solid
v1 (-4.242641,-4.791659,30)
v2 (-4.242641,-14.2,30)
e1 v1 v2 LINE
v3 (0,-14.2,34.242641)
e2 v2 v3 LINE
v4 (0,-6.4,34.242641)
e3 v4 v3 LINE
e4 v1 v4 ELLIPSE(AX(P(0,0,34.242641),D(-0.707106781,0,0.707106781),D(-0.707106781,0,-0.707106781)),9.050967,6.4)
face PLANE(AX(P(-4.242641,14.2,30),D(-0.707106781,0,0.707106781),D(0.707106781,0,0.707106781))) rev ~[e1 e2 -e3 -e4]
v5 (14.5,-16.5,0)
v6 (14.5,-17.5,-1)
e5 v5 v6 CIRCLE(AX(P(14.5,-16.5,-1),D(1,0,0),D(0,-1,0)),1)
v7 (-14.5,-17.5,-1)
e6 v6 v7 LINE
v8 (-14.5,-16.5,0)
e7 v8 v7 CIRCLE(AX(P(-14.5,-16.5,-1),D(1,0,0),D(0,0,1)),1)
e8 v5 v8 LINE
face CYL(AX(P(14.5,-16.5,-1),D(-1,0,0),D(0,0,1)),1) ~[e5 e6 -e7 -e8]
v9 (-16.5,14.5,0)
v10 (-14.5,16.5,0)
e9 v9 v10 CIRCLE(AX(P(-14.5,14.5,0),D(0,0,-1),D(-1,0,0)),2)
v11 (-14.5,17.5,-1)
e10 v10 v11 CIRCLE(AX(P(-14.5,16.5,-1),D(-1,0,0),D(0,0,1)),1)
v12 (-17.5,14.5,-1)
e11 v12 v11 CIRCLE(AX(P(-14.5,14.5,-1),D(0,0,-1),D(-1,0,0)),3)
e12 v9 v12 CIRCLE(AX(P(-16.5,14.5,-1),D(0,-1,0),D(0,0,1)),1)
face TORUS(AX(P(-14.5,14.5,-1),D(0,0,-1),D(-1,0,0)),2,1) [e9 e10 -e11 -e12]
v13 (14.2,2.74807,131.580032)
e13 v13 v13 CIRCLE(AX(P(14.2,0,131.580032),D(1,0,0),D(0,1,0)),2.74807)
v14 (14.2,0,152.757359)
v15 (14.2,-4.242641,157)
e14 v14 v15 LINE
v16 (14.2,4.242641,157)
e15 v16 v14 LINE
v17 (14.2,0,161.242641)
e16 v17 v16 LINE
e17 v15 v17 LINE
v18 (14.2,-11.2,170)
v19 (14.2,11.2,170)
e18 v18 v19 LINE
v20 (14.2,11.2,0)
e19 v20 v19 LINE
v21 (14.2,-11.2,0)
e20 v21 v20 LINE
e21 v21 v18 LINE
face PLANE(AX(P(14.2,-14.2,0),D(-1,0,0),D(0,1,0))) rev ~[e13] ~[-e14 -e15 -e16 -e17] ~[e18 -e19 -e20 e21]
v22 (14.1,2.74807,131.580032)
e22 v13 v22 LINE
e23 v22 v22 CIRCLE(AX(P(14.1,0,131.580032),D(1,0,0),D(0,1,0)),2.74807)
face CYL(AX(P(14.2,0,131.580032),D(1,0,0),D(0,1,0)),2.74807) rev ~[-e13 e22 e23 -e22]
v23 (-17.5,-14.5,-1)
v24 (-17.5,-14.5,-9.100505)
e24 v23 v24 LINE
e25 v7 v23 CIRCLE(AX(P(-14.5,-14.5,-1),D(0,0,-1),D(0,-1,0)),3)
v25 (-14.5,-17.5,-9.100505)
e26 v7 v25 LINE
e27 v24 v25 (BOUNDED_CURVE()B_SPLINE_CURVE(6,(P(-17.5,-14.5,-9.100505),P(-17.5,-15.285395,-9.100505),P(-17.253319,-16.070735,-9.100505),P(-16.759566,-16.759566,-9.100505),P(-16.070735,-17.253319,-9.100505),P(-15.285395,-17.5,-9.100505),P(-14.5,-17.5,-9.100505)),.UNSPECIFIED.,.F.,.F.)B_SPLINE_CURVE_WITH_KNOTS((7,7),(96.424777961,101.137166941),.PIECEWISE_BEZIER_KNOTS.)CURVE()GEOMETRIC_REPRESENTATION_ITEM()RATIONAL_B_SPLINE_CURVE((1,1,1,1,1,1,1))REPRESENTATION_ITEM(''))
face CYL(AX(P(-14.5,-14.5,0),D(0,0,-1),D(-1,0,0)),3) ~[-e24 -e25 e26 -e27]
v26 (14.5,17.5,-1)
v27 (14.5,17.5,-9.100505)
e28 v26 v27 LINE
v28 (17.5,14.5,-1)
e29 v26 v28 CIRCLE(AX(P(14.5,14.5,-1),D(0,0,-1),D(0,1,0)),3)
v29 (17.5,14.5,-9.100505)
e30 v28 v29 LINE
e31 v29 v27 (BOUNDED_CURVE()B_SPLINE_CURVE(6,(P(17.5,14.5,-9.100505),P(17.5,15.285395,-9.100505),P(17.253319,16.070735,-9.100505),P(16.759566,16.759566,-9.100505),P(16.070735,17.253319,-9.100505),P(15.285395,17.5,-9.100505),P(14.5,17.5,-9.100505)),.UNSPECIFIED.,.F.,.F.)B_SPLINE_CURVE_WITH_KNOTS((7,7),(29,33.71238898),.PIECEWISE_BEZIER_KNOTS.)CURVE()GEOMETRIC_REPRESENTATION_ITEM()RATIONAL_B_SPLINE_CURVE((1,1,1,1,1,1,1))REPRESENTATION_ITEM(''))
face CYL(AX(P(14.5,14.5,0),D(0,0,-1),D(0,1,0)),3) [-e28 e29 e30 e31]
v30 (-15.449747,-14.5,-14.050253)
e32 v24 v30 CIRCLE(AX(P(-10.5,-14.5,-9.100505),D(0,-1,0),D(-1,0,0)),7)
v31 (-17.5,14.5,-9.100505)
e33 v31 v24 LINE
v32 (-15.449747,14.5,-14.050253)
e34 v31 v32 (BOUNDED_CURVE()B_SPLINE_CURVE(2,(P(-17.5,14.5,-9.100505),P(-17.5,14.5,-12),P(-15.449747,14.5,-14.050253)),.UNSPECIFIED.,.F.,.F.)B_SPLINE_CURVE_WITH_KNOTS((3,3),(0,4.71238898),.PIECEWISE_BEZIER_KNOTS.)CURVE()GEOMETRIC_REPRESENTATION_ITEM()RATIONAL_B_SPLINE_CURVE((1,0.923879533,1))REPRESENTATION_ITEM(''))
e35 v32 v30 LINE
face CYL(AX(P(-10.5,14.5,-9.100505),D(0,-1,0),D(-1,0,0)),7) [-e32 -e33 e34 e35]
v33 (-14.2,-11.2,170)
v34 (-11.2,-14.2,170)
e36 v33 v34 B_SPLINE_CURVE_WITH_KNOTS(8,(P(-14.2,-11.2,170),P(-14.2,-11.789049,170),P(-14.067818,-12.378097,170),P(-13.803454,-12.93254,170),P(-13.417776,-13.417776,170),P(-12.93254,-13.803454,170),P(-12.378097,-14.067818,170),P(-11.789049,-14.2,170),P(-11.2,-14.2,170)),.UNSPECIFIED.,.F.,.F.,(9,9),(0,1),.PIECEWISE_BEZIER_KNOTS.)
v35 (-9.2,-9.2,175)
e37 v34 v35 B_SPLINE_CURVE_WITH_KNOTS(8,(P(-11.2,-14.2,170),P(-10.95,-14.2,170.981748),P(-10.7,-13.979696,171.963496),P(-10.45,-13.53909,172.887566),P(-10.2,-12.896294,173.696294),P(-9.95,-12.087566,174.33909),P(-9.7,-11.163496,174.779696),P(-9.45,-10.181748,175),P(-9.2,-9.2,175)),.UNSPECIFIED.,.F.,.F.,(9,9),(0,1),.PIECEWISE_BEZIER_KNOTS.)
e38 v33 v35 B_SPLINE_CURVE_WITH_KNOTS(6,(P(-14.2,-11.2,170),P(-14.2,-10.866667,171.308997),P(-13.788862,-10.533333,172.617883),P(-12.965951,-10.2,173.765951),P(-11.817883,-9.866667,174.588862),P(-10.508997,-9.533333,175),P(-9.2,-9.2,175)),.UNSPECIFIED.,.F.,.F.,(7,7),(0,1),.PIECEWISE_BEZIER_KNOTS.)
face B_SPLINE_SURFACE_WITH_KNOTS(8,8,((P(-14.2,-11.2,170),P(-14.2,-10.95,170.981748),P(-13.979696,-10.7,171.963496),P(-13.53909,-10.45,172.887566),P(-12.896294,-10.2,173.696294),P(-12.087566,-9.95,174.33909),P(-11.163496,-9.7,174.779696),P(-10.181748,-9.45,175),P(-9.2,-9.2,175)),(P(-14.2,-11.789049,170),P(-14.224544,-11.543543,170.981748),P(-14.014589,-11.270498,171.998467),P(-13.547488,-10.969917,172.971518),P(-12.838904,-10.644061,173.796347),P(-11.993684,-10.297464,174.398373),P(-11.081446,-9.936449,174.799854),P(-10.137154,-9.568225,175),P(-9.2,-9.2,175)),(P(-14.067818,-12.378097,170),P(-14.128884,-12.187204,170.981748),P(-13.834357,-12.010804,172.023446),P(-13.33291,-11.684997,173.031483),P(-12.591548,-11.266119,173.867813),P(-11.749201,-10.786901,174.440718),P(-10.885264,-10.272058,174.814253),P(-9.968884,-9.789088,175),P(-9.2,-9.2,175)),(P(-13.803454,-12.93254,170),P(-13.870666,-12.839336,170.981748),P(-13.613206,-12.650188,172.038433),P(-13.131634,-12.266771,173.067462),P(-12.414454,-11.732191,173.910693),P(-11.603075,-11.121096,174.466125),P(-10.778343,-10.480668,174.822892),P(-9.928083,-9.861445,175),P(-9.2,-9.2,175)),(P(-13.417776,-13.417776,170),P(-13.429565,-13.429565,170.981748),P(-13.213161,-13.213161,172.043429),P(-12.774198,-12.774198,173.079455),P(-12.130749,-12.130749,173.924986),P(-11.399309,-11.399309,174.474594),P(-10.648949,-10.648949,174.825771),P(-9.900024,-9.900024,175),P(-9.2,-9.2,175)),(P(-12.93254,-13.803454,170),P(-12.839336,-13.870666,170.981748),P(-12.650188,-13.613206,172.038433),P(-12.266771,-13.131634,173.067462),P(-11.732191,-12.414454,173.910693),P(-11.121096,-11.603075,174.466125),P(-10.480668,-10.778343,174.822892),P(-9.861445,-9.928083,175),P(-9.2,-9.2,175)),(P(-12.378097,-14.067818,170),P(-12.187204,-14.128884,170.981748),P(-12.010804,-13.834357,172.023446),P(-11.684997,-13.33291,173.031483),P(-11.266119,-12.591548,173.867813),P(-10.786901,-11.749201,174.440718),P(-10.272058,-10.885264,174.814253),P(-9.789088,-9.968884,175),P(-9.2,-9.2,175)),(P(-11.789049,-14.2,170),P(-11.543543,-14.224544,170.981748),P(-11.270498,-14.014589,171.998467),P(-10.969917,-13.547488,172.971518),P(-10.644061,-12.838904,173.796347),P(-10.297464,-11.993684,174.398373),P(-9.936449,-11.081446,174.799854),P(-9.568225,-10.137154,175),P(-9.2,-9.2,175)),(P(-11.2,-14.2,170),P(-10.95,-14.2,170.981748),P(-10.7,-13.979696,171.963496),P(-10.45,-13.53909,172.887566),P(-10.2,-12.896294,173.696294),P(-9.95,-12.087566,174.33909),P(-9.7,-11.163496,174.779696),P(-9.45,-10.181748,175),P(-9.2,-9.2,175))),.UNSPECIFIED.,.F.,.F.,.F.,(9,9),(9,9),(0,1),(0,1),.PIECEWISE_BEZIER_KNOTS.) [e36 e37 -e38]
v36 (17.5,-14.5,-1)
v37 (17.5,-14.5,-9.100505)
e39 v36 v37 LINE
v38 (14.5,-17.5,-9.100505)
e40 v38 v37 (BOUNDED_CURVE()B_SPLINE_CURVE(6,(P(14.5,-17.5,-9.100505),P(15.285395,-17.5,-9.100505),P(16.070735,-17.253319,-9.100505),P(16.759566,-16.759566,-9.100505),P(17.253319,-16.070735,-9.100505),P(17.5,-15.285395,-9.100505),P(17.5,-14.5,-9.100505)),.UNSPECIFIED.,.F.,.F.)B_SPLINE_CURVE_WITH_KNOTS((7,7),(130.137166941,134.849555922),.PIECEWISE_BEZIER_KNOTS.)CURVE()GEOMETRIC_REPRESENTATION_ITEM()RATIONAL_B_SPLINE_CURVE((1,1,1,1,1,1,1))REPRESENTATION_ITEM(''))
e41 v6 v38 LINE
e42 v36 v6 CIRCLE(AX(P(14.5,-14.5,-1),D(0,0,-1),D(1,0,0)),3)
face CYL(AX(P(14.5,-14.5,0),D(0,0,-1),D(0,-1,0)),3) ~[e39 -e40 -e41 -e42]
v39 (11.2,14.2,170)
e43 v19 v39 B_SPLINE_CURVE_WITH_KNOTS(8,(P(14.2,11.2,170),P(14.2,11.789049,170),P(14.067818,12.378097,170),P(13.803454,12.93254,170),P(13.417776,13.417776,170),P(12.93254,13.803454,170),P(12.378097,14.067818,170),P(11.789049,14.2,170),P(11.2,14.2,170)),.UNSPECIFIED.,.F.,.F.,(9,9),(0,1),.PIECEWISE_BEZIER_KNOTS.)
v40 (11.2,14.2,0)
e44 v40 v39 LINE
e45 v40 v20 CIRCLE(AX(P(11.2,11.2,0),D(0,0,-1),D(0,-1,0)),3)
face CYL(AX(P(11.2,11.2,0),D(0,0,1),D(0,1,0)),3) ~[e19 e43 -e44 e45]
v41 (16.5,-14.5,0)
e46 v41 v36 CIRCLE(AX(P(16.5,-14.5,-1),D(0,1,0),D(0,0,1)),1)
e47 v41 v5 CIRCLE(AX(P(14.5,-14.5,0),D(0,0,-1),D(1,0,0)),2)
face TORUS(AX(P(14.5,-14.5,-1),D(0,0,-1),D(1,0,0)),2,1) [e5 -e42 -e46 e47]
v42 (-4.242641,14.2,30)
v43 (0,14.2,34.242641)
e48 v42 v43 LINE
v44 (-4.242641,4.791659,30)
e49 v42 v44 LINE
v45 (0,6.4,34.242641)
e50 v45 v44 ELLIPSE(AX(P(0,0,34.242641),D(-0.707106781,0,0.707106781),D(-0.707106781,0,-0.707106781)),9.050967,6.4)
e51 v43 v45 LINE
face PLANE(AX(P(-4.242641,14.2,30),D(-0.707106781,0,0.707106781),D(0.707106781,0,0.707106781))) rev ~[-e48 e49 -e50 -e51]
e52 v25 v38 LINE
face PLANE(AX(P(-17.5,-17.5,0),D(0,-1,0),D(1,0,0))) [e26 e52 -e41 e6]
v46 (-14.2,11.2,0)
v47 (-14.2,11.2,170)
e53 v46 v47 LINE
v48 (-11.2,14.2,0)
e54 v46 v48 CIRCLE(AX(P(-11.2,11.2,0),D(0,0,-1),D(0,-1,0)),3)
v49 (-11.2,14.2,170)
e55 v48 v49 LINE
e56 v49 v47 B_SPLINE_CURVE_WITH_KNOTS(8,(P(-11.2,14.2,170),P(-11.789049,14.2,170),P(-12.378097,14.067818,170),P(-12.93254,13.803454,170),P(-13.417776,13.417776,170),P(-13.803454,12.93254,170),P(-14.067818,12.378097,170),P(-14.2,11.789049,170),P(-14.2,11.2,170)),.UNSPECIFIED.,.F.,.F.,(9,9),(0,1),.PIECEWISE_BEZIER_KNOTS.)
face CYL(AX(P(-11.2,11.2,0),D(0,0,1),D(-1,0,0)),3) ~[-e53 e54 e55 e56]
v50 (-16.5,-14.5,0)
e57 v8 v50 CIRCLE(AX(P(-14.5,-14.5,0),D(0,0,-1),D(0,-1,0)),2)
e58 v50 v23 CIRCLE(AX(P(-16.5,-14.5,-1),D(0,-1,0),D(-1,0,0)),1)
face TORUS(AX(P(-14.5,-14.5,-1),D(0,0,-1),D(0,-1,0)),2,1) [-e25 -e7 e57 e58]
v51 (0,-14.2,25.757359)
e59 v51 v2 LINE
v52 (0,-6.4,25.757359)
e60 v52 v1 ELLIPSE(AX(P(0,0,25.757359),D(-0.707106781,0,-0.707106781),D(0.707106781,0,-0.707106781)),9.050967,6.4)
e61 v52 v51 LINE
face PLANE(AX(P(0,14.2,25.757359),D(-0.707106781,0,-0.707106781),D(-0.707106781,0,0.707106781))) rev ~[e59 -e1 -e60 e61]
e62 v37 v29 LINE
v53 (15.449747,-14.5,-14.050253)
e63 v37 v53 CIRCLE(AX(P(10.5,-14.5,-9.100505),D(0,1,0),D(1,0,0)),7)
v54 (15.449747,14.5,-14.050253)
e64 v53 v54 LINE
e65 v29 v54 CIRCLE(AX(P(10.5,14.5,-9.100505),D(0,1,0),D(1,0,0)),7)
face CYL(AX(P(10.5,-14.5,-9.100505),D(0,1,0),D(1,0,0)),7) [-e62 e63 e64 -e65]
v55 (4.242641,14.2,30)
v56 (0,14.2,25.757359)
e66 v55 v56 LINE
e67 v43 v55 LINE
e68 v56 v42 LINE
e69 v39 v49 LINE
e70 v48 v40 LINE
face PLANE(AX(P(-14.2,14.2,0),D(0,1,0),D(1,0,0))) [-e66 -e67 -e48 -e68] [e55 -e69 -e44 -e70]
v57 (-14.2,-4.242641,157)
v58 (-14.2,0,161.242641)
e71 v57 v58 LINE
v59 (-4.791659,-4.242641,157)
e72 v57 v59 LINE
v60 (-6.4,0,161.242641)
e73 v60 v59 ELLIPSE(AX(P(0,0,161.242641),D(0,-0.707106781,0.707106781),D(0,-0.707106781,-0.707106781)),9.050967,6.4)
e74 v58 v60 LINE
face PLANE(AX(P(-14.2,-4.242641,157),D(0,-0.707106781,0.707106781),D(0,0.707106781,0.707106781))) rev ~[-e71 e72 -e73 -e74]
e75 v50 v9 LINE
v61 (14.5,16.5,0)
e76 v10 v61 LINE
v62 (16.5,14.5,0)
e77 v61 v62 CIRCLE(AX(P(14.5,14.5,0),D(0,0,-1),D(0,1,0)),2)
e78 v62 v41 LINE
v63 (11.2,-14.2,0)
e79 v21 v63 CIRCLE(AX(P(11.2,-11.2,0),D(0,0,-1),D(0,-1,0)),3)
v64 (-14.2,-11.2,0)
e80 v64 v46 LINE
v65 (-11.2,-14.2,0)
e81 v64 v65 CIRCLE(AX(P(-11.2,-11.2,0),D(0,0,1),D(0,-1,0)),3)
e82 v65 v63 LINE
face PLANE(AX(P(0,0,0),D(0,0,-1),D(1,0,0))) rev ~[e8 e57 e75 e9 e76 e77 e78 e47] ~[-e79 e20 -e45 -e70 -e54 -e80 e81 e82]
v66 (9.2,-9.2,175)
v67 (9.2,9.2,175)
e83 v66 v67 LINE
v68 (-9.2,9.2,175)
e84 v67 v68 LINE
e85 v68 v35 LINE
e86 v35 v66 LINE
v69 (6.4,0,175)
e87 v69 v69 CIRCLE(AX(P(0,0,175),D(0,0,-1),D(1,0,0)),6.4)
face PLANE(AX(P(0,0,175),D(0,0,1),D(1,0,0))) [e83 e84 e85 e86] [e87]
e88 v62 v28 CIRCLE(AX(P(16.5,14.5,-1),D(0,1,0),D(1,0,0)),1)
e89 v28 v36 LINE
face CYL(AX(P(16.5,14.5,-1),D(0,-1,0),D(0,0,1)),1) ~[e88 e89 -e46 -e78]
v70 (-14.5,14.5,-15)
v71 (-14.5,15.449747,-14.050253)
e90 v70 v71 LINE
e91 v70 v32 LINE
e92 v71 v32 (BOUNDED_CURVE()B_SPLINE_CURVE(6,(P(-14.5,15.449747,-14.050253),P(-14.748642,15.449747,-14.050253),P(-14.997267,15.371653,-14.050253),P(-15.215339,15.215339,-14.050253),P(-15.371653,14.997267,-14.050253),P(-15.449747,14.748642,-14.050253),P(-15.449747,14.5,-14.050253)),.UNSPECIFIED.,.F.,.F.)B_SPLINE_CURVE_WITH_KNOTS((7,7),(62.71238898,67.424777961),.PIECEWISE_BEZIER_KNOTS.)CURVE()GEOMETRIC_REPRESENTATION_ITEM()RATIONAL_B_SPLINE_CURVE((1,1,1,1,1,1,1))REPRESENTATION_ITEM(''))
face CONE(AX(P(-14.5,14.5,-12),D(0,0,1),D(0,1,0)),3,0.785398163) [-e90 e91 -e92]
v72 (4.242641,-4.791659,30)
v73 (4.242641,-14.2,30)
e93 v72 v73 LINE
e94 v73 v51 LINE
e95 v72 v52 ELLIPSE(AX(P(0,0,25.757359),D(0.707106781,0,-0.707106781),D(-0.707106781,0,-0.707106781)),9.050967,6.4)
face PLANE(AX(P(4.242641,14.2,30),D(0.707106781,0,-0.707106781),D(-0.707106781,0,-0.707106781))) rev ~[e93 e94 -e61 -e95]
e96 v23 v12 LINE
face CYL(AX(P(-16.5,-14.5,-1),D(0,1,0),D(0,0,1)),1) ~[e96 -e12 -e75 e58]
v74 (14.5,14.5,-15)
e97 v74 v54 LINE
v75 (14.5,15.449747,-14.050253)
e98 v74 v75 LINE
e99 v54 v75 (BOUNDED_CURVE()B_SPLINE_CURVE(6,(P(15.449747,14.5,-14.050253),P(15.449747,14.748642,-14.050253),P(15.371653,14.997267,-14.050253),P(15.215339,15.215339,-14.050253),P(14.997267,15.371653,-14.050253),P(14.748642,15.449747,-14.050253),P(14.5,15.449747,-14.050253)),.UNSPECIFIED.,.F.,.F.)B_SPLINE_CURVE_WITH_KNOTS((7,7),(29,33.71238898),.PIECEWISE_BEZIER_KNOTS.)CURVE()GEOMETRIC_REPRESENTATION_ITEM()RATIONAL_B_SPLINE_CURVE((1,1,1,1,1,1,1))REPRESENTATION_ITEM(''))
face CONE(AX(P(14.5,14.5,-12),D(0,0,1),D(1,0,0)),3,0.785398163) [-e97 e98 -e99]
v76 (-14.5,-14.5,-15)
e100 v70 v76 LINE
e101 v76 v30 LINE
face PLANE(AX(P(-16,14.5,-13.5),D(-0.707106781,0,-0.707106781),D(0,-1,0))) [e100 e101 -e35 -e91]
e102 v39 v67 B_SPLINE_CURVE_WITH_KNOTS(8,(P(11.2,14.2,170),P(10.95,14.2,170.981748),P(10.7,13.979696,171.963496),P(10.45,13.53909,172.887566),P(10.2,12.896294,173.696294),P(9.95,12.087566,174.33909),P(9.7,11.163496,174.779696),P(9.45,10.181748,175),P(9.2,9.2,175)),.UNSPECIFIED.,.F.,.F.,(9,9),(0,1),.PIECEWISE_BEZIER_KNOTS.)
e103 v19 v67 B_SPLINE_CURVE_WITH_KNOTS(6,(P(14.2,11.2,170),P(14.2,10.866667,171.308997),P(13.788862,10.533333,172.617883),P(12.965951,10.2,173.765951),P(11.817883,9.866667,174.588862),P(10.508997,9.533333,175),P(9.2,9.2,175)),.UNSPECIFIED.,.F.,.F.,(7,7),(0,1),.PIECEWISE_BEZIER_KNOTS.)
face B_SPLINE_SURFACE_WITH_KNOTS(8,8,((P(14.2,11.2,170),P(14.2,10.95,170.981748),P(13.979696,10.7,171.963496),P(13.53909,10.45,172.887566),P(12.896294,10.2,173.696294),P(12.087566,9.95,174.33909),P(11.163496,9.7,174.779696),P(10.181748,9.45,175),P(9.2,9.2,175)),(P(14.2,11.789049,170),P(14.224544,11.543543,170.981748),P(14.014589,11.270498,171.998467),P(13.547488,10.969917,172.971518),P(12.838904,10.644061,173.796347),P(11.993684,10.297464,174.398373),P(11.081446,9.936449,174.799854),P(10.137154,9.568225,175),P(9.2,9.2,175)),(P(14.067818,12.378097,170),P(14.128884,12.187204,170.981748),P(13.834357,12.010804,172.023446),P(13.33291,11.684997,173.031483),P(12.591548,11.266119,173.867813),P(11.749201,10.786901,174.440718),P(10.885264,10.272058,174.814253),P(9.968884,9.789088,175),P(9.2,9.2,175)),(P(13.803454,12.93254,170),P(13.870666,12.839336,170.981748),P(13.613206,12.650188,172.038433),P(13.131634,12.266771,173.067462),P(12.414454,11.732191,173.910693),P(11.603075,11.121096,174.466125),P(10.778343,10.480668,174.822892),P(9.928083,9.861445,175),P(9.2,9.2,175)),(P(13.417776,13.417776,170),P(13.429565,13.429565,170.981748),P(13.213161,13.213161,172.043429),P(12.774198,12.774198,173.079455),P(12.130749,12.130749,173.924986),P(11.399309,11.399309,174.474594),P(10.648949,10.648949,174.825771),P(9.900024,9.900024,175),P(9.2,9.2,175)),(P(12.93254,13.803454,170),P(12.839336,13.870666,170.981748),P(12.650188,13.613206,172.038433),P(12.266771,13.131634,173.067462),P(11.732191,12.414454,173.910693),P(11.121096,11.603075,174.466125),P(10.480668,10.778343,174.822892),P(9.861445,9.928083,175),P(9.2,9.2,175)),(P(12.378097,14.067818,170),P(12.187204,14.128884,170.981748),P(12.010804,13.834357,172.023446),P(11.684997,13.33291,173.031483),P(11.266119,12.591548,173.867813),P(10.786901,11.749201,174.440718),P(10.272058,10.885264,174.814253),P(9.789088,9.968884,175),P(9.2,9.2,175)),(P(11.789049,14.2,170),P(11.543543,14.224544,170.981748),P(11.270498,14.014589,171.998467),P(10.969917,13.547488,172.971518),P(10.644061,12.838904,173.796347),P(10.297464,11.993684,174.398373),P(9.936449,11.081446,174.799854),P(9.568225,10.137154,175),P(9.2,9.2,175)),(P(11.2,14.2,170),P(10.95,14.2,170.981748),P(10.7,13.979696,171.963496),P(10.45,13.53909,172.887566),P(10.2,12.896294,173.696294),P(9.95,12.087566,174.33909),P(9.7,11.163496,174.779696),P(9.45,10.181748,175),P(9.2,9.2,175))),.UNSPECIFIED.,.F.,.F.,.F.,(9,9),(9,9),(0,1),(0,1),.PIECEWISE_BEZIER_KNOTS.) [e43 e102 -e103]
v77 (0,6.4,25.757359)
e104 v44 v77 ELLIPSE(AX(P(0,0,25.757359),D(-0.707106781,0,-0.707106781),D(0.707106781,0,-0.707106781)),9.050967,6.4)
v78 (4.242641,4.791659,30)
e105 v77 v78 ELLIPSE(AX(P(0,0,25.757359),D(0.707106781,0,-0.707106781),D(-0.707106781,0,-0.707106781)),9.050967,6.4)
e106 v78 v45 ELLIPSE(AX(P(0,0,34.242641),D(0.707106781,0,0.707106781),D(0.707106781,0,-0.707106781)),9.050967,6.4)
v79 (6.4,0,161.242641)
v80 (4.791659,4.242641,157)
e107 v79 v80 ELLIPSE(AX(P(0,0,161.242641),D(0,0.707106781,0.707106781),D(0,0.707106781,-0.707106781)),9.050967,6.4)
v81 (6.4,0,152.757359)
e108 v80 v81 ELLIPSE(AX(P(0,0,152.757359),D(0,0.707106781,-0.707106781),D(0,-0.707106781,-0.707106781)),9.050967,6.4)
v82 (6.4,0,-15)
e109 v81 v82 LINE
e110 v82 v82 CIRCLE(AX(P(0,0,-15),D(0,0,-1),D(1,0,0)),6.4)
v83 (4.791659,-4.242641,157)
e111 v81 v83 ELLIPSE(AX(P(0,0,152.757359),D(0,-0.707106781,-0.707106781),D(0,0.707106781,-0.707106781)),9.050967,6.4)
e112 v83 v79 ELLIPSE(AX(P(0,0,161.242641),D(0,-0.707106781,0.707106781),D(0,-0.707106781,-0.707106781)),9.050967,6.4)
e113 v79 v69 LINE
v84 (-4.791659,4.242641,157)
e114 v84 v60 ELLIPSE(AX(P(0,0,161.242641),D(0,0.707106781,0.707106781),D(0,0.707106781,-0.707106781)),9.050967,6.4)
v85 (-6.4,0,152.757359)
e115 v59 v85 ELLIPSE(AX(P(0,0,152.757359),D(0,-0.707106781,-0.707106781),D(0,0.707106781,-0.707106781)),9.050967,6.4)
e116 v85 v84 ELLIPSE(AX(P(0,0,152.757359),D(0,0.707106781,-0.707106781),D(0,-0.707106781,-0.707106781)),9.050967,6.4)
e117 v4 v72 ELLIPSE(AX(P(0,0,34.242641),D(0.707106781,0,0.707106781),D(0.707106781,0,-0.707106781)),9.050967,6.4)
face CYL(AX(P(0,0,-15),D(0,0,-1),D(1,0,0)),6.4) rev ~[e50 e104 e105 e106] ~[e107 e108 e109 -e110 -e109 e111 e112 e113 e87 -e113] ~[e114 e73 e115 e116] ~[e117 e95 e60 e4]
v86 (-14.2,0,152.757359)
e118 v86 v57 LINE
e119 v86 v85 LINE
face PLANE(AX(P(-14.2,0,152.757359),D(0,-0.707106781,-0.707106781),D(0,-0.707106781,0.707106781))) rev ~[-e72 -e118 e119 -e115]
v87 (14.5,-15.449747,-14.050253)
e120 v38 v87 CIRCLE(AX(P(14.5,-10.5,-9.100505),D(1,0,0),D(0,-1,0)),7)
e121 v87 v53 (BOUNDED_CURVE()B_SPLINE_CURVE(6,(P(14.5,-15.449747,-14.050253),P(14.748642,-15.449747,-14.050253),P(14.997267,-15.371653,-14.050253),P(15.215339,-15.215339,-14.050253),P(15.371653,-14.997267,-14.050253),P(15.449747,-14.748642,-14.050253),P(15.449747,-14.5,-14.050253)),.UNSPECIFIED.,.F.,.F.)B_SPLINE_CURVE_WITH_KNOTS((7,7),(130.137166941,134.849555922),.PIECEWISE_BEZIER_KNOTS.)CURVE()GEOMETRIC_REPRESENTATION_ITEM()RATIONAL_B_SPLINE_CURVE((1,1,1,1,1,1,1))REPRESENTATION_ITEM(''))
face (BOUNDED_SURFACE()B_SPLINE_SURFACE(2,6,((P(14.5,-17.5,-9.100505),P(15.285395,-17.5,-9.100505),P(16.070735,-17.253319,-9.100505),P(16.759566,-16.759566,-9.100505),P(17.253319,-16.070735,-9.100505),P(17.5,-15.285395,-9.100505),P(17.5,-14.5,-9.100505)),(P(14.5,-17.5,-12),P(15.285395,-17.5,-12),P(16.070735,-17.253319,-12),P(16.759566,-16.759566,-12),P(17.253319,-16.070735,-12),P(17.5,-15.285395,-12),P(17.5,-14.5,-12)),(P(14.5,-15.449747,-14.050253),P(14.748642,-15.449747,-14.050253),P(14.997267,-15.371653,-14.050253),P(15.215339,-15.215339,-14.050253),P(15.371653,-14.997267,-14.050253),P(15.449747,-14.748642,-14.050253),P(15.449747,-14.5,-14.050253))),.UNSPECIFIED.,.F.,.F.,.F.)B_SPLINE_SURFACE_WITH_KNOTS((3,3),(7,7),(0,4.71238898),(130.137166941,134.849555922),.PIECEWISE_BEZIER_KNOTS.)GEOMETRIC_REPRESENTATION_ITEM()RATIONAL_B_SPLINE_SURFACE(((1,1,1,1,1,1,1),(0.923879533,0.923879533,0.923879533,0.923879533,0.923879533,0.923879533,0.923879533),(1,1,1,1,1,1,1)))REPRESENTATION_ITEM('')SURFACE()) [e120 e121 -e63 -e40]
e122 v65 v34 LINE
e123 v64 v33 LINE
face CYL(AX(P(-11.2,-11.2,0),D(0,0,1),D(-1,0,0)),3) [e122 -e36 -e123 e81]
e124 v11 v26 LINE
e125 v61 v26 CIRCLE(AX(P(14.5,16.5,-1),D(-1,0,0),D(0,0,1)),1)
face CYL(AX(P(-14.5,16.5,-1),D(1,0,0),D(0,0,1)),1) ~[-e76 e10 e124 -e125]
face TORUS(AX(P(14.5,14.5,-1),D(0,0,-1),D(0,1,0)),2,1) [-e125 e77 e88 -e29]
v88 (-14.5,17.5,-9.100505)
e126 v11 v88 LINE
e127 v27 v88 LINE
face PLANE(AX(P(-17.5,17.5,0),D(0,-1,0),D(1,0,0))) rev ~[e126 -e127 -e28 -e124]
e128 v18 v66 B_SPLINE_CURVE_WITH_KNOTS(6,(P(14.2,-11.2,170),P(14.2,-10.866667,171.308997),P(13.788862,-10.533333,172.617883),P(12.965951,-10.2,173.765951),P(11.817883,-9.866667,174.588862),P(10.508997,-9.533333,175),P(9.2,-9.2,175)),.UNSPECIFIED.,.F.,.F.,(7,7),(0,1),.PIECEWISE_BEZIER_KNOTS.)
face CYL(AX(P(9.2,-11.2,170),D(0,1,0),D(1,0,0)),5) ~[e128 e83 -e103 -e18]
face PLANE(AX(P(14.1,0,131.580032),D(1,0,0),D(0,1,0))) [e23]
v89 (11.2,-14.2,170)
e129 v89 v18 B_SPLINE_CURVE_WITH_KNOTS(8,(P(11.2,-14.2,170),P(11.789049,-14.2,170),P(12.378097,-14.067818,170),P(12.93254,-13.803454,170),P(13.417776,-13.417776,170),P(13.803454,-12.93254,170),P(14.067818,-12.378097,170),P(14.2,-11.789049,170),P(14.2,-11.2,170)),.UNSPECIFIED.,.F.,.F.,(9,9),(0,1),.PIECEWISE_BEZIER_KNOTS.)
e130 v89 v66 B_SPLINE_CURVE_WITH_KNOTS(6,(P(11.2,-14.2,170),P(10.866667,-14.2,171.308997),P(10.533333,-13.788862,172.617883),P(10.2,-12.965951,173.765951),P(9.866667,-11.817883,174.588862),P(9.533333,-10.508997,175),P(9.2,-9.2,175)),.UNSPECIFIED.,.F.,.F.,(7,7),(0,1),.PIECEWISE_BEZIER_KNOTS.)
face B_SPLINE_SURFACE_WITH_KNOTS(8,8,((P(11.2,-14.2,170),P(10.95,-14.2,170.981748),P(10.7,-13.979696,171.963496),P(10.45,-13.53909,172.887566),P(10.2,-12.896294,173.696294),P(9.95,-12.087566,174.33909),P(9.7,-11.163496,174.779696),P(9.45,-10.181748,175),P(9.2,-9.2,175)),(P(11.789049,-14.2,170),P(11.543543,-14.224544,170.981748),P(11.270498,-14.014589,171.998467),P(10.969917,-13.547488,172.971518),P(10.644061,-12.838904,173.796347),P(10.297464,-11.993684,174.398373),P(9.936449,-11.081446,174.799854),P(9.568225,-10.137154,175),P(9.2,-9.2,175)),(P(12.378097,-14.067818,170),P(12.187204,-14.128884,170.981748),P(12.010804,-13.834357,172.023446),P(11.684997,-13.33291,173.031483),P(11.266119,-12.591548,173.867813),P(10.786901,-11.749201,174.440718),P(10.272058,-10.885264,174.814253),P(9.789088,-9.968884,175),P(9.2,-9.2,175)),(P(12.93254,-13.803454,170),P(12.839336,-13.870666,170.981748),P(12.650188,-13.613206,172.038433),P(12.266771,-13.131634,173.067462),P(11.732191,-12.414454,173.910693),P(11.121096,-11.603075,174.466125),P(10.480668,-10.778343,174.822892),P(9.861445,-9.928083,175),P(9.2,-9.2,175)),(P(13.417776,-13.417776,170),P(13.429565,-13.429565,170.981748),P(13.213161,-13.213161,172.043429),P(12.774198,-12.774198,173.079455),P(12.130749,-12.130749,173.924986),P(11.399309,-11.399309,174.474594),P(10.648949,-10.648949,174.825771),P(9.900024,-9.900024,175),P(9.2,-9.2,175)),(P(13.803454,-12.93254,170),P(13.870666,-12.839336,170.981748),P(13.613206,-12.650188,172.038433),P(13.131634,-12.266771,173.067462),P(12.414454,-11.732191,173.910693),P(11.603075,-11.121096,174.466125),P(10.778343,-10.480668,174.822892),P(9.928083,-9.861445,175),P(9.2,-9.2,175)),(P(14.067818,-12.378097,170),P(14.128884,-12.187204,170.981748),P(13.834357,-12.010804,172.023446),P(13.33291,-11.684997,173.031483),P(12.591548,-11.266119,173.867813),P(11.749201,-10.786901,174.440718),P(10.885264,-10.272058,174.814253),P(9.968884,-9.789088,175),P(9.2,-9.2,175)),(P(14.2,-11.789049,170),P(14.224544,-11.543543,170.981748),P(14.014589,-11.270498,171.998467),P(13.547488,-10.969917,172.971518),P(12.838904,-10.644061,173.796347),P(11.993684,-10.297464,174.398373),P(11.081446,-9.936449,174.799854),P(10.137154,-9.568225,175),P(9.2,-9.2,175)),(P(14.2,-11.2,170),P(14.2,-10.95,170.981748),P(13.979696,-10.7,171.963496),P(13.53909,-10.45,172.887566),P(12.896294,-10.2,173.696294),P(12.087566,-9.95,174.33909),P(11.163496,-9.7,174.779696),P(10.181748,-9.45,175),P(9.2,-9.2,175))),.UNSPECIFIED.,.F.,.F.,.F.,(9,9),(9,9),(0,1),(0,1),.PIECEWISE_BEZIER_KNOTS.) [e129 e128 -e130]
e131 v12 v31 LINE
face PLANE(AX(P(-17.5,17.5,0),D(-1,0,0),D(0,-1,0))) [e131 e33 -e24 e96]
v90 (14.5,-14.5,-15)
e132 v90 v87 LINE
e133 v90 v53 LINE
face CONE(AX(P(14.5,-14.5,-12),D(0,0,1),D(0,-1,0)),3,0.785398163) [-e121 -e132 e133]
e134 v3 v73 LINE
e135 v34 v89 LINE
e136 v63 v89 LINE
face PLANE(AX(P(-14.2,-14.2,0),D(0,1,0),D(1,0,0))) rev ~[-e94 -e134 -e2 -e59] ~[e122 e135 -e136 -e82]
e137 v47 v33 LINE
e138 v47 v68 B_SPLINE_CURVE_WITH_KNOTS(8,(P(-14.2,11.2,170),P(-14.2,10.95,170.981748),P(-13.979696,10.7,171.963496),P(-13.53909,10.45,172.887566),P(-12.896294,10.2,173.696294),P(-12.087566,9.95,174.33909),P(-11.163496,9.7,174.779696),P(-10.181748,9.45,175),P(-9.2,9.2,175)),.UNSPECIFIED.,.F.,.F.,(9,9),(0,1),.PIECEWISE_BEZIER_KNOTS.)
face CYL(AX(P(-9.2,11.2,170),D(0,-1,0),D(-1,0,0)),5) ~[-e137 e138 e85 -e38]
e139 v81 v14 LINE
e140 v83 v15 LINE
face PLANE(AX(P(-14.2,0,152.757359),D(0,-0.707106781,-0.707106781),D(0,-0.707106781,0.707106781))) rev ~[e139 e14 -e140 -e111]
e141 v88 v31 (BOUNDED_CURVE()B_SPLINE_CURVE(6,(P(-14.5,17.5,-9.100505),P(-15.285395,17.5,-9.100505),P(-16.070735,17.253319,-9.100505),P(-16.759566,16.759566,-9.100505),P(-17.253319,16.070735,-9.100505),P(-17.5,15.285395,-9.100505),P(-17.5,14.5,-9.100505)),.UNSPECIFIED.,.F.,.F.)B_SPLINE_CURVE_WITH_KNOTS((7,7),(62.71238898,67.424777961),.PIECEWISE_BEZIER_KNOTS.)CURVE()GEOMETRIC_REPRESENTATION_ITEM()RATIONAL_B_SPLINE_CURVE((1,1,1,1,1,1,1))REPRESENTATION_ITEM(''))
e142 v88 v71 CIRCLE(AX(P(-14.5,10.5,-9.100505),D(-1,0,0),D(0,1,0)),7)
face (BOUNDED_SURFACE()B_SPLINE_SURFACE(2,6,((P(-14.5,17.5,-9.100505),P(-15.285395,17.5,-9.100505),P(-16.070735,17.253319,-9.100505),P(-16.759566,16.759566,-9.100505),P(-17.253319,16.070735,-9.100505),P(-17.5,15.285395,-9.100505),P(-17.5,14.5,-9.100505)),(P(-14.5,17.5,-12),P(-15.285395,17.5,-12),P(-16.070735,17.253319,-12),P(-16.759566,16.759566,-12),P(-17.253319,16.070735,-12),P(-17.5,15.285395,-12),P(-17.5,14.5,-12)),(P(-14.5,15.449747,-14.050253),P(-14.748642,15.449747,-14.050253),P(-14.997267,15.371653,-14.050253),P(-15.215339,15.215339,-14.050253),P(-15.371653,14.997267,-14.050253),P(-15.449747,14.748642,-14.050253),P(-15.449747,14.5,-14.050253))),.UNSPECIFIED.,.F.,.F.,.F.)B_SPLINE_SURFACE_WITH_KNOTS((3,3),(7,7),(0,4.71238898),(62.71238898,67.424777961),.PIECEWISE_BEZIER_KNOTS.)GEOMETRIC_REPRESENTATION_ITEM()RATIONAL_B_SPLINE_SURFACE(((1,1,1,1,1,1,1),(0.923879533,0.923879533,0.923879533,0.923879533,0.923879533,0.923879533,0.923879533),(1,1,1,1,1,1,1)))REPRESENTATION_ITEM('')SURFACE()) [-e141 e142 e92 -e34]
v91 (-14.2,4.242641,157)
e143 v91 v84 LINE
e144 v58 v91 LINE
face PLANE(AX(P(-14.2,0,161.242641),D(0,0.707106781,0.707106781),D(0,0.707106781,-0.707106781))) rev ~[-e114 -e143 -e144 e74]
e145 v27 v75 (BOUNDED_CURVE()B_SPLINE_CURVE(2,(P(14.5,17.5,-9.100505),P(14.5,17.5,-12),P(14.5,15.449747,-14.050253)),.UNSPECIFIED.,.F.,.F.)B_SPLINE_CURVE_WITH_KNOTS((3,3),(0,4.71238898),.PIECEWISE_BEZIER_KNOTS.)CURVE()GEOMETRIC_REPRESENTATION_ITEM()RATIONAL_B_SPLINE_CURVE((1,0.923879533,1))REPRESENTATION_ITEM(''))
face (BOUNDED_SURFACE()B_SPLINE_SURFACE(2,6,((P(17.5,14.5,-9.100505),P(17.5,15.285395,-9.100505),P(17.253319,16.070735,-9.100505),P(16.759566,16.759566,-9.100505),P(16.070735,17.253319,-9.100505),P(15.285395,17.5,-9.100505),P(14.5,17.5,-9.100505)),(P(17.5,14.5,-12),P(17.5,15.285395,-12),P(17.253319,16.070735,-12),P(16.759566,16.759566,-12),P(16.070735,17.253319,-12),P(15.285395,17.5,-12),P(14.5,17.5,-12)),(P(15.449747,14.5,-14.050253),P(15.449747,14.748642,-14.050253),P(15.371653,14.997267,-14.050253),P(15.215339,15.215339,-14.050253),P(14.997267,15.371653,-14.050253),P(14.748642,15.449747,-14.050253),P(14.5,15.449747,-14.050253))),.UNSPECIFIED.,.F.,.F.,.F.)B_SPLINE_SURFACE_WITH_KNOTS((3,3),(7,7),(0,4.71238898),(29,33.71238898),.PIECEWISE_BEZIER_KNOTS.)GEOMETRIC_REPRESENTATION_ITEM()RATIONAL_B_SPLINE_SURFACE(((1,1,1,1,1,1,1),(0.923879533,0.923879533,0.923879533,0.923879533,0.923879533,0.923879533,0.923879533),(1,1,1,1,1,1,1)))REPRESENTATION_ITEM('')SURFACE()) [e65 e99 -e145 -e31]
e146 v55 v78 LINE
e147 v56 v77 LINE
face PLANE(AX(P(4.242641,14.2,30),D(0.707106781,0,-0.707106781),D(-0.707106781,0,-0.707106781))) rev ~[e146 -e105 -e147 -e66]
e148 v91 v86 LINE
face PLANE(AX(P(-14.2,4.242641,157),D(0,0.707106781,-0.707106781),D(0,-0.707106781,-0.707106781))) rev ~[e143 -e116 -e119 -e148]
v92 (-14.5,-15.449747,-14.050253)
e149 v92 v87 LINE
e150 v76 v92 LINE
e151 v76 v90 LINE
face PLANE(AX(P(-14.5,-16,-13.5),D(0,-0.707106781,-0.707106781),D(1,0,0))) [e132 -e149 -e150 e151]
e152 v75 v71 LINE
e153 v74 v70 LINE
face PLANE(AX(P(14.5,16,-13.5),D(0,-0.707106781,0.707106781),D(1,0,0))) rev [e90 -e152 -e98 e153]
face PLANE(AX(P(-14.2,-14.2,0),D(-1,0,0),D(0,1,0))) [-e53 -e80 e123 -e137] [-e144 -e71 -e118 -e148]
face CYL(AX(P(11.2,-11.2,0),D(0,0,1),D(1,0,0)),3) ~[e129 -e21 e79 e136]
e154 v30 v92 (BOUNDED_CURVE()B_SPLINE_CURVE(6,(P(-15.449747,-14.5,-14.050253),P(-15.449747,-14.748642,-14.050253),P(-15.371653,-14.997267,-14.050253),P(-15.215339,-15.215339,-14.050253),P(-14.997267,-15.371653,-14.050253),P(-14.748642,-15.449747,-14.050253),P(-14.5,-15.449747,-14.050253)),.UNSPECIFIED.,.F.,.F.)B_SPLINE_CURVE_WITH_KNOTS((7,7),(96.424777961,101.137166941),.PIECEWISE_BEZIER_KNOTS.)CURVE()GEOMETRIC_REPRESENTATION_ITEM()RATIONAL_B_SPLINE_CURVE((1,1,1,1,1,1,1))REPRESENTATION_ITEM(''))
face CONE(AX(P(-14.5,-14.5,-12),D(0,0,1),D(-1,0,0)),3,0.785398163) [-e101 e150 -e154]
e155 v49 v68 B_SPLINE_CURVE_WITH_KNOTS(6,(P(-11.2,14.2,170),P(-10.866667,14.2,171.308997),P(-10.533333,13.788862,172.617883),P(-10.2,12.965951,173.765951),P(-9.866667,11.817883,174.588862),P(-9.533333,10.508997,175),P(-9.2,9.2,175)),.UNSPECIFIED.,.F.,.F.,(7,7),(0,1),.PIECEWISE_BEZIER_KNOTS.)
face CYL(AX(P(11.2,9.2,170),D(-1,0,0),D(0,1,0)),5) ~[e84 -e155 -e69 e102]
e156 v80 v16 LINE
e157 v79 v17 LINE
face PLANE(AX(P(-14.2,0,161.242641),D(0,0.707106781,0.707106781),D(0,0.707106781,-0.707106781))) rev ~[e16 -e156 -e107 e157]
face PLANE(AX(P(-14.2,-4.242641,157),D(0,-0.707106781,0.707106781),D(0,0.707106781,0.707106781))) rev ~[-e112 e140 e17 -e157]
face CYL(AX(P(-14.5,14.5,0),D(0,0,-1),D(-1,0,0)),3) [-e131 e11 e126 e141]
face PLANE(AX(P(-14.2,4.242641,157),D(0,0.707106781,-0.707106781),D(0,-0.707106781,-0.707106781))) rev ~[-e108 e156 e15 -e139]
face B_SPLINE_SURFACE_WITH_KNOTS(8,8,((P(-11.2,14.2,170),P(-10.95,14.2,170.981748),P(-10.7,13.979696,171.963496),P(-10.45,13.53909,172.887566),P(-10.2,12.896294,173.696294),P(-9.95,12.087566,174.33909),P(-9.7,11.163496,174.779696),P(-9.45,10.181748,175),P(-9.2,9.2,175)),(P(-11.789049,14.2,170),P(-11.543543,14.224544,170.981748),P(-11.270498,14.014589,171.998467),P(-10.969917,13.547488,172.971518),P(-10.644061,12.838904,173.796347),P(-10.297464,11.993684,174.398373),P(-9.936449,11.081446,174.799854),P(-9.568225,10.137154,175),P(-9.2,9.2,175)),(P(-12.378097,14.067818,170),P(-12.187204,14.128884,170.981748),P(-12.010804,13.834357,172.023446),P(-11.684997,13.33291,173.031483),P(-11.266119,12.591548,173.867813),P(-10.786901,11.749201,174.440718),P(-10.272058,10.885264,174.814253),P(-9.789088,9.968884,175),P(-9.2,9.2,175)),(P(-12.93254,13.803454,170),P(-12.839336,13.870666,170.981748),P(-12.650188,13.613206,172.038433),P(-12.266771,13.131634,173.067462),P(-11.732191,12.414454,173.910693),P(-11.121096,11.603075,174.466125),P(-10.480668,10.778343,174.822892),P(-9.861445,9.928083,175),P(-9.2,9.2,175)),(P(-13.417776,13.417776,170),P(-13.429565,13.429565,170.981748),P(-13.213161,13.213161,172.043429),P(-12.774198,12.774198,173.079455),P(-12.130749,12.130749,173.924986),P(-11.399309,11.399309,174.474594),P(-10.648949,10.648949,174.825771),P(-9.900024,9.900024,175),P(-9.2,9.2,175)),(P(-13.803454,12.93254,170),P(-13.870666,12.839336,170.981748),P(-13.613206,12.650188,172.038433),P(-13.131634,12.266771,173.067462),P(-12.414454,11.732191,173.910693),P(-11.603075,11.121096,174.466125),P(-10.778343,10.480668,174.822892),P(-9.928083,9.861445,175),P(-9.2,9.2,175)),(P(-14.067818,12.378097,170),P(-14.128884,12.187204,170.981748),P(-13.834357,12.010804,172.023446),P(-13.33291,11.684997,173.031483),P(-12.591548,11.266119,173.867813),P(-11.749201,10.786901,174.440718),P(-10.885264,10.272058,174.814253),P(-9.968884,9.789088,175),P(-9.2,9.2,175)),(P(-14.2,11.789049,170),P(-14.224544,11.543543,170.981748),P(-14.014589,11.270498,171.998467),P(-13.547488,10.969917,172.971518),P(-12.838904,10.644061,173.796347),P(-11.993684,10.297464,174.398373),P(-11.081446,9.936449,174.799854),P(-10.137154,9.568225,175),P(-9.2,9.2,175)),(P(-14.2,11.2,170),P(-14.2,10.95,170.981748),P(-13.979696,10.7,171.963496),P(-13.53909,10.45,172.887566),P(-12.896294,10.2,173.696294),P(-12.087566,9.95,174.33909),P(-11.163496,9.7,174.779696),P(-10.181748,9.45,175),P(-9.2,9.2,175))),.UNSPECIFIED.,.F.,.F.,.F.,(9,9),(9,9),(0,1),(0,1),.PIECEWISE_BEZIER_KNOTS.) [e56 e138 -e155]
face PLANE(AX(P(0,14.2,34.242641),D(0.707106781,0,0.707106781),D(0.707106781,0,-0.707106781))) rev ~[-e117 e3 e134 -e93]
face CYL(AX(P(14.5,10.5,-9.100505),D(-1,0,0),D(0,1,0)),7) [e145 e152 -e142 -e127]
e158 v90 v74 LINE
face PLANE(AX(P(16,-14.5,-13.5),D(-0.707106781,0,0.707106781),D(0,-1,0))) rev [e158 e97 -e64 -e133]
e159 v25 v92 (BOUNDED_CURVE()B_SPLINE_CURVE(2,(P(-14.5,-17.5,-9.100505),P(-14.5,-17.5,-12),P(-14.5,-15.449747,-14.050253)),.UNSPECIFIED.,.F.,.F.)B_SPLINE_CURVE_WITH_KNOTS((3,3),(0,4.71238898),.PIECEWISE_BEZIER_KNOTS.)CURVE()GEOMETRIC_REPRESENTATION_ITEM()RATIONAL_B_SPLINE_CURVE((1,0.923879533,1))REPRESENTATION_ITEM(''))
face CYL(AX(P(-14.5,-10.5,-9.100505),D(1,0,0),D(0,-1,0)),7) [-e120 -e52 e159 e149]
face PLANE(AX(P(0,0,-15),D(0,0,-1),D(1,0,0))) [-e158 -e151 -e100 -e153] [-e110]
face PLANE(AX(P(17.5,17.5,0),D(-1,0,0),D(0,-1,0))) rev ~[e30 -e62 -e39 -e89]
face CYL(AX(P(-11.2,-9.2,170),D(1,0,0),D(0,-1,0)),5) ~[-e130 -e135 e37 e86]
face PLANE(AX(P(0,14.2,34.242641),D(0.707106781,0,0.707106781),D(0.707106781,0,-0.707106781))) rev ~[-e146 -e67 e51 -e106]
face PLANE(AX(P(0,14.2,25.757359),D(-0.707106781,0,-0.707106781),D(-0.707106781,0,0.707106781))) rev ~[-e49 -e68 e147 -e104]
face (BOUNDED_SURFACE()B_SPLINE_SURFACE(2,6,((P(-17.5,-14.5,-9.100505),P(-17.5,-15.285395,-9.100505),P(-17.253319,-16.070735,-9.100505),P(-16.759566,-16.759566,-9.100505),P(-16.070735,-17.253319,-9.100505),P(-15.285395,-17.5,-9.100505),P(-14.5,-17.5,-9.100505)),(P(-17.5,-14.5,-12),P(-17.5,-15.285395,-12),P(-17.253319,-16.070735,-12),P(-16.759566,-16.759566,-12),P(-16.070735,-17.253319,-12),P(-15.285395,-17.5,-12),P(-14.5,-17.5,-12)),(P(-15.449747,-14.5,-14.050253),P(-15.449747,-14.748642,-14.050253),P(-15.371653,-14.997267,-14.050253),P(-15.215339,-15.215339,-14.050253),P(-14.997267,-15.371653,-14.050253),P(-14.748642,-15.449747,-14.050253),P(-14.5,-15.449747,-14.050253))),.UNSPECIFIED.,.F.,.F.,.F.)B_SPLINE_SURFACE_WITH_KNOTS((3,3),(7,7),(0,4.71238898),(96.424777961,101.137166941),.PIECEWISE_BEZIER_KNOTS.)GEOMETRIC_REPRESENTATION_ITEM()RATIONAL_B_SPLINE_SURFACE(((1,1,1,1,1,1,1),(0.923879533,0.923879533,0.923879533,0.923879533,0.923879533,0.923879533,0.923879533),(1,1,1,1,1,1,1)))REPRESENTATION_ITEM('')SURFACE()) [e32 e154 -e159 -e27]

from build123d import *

# Parameters (mm, degrees)
SKETCH_W          = 28.4
SKETCH_H          = 28.4
PAD_DEPTH         = 175
SKETCH001_R       = 6.4
POCKET_DEPTH      = 175.001
POCKET_DEPTH_BACK = -0.001
SKETCH002_R       = 2.74807
POCKET001_DEPTH   = 0.1
SKETCH003_W       = 35
SKETCH003_H       = 35
PAD001_DEPTH      = 15
FILLET_R          = 3
CHAMFER_SIZE      = 3
FILLET001_R       = 3
FILLET002_R       = 5
FILLET003_R       = 7
FILLET004_R       = 1
POCKET002_DEPTH   = 31.701
POCKET003_DEPTH   = 31.701
SKETCH006_R       = 6.4
POCKET004_DEPTH   = 190.001


with BuildPart() as part:
    # Sketch → Pad (new body)
    with BuildSketch(Plane.XY):
        Rectangle(SKETCH_W, SKETCH_H)
    extrude(amount=PAD_DEPTH)

    # Sketch001 → Pocket (cut, two sides)
    with BuildSketch(Plane(origin=(0, 0, 0), x_dir=(1, 0, 0), z_dir=(0, 0, -1))) as pocket_sk:
        Circle(SKETCH001_R)
    extrude(amount=-POCKET_DEPTH, mode=Mode.SUBTRACT)
    extrude(pocket_sk.sketch, amount=-POCKET_DEPTH_BACK, mode=Mode.SUBTRACT)

    # Sketch002 → Pocket001 (cut)
    with BuildSketch(Plane.YZ.offset(14.2)):
        with Locations((0, 131.580032)):
            Circle(SKETCH002_R)
    extrude(amount=-POCKET001_DEPTH, mode=Mode.SUBTRACT)

    # Sketch003 → Pad001 (new body)
    with BuildSketch(Plane(origin=(0, 0, 0), x_dir=(1, 0, 0), z_dir=(0, 0, -1))):
        Rectangle(SKETCH003_W, SKETCH003_H)
    extrude(amount=PAD001_DEPTH)

    # Fillet
    fillet_edges = [part.edges().sort_by_distance(p)[0] for p in [
        (17.5, -17.5, -7.5),
        (-17.5, -17.5, -7.5),
        (17.5, 17.5, -7.5),
        (-17.5, 17.5, -7.5),
    ]]
    fillet(fillet_edges, radius=FILLET_R)

    # Chamfer
    chamfer_edges = [part.edges().sort_by_distance(p)[0] for p in [
        (0, -17.5, -15),
        (-16.62132, -16.62132, -15),
        (16.62132, -16.62132, -15),
        (-17.5, 0, -15),
        (17.5, 0, -15),
        (-16.62132, 16.62132, -15),
        (16.62132, 16.62132, -15),
        (0, 17.5, -15),
    ]]
    chamfer(chamfer_edges, length=CHAMFER_SIZE)

    # Fillet001
    fillet001_edges = [part.edges().sort_by_distance(p)[0] for p in [
        (14.2, -14.2, 87.5),
        (14.2, 14.2, 87.5),
        (-14.2, 14.2, 87.5),
        (-14.2, -14.2, 87.5),
    ]]
    fillet(fillet001_edges, radius=FILLET001_R)

    # Fillet002
    fillet002_edges = [part.edges().sort_by_distance(p)[0] for p in [
        (14.2, 0, 175),
    ]]
    fillet(fillet002_edges, radius=FILLET002_R)

    # Fillet003
    fillet003_edges = [part.edges().sort_by_distance(p)[0] for p in [
        (17.5, 0, -12),
    ]]
    fillet(fillet003_edges, radius=FILLET003_R)

    # Fillet004
    fillet004_edges = [part.edges().sort_by_distance(p)[0] for p in [
        (0, 17.5, 0),
    ]]
    fillet(fillet004_edges, radius=FILLET004_R)

    # Sketch004 → Pocket002 (cut, through all)
    with BuildSketch(Plane(origin=(0, 14.2, 0), x_dir=(-1, 0, 0), z_dir=(0, 1, 0))):
        Polygon((0, 34.242641), (-4.242641, 30), (0, 25.757359), (4.242641, 30), align=None)
    extrude(amount=-POCKET002_DEPTH, mode=Mode.SUBTRACT)

    # Sketch005 → Pocket003 (cut, through all)
    with BuildSketch(Plane(origin=(-14.2, 0, 0), x_dir=(0, -1, 0), z_dir=(-1, 0, 0))):
        Polygon((0, 161.242641), (-4.242641, 157), (0, 152.757359), (4.242641, 157), align=None)
    extrude(amount=-POCKET003_DEPTH, mode=Mode.SUBTRACT)

    # Sketch006 → Pocket004 (cut, through all)
    with BuildSketch(Plane(origin=(0, 0, -15), x_dir=(1, 0, 0), z_dir=(0, 0, -1))):
        Circle(SKETCH006_R)
    extrude(amount=-POCKET004_DEPTH, mode=Mode.SUBTRACT)


solid = part.part
